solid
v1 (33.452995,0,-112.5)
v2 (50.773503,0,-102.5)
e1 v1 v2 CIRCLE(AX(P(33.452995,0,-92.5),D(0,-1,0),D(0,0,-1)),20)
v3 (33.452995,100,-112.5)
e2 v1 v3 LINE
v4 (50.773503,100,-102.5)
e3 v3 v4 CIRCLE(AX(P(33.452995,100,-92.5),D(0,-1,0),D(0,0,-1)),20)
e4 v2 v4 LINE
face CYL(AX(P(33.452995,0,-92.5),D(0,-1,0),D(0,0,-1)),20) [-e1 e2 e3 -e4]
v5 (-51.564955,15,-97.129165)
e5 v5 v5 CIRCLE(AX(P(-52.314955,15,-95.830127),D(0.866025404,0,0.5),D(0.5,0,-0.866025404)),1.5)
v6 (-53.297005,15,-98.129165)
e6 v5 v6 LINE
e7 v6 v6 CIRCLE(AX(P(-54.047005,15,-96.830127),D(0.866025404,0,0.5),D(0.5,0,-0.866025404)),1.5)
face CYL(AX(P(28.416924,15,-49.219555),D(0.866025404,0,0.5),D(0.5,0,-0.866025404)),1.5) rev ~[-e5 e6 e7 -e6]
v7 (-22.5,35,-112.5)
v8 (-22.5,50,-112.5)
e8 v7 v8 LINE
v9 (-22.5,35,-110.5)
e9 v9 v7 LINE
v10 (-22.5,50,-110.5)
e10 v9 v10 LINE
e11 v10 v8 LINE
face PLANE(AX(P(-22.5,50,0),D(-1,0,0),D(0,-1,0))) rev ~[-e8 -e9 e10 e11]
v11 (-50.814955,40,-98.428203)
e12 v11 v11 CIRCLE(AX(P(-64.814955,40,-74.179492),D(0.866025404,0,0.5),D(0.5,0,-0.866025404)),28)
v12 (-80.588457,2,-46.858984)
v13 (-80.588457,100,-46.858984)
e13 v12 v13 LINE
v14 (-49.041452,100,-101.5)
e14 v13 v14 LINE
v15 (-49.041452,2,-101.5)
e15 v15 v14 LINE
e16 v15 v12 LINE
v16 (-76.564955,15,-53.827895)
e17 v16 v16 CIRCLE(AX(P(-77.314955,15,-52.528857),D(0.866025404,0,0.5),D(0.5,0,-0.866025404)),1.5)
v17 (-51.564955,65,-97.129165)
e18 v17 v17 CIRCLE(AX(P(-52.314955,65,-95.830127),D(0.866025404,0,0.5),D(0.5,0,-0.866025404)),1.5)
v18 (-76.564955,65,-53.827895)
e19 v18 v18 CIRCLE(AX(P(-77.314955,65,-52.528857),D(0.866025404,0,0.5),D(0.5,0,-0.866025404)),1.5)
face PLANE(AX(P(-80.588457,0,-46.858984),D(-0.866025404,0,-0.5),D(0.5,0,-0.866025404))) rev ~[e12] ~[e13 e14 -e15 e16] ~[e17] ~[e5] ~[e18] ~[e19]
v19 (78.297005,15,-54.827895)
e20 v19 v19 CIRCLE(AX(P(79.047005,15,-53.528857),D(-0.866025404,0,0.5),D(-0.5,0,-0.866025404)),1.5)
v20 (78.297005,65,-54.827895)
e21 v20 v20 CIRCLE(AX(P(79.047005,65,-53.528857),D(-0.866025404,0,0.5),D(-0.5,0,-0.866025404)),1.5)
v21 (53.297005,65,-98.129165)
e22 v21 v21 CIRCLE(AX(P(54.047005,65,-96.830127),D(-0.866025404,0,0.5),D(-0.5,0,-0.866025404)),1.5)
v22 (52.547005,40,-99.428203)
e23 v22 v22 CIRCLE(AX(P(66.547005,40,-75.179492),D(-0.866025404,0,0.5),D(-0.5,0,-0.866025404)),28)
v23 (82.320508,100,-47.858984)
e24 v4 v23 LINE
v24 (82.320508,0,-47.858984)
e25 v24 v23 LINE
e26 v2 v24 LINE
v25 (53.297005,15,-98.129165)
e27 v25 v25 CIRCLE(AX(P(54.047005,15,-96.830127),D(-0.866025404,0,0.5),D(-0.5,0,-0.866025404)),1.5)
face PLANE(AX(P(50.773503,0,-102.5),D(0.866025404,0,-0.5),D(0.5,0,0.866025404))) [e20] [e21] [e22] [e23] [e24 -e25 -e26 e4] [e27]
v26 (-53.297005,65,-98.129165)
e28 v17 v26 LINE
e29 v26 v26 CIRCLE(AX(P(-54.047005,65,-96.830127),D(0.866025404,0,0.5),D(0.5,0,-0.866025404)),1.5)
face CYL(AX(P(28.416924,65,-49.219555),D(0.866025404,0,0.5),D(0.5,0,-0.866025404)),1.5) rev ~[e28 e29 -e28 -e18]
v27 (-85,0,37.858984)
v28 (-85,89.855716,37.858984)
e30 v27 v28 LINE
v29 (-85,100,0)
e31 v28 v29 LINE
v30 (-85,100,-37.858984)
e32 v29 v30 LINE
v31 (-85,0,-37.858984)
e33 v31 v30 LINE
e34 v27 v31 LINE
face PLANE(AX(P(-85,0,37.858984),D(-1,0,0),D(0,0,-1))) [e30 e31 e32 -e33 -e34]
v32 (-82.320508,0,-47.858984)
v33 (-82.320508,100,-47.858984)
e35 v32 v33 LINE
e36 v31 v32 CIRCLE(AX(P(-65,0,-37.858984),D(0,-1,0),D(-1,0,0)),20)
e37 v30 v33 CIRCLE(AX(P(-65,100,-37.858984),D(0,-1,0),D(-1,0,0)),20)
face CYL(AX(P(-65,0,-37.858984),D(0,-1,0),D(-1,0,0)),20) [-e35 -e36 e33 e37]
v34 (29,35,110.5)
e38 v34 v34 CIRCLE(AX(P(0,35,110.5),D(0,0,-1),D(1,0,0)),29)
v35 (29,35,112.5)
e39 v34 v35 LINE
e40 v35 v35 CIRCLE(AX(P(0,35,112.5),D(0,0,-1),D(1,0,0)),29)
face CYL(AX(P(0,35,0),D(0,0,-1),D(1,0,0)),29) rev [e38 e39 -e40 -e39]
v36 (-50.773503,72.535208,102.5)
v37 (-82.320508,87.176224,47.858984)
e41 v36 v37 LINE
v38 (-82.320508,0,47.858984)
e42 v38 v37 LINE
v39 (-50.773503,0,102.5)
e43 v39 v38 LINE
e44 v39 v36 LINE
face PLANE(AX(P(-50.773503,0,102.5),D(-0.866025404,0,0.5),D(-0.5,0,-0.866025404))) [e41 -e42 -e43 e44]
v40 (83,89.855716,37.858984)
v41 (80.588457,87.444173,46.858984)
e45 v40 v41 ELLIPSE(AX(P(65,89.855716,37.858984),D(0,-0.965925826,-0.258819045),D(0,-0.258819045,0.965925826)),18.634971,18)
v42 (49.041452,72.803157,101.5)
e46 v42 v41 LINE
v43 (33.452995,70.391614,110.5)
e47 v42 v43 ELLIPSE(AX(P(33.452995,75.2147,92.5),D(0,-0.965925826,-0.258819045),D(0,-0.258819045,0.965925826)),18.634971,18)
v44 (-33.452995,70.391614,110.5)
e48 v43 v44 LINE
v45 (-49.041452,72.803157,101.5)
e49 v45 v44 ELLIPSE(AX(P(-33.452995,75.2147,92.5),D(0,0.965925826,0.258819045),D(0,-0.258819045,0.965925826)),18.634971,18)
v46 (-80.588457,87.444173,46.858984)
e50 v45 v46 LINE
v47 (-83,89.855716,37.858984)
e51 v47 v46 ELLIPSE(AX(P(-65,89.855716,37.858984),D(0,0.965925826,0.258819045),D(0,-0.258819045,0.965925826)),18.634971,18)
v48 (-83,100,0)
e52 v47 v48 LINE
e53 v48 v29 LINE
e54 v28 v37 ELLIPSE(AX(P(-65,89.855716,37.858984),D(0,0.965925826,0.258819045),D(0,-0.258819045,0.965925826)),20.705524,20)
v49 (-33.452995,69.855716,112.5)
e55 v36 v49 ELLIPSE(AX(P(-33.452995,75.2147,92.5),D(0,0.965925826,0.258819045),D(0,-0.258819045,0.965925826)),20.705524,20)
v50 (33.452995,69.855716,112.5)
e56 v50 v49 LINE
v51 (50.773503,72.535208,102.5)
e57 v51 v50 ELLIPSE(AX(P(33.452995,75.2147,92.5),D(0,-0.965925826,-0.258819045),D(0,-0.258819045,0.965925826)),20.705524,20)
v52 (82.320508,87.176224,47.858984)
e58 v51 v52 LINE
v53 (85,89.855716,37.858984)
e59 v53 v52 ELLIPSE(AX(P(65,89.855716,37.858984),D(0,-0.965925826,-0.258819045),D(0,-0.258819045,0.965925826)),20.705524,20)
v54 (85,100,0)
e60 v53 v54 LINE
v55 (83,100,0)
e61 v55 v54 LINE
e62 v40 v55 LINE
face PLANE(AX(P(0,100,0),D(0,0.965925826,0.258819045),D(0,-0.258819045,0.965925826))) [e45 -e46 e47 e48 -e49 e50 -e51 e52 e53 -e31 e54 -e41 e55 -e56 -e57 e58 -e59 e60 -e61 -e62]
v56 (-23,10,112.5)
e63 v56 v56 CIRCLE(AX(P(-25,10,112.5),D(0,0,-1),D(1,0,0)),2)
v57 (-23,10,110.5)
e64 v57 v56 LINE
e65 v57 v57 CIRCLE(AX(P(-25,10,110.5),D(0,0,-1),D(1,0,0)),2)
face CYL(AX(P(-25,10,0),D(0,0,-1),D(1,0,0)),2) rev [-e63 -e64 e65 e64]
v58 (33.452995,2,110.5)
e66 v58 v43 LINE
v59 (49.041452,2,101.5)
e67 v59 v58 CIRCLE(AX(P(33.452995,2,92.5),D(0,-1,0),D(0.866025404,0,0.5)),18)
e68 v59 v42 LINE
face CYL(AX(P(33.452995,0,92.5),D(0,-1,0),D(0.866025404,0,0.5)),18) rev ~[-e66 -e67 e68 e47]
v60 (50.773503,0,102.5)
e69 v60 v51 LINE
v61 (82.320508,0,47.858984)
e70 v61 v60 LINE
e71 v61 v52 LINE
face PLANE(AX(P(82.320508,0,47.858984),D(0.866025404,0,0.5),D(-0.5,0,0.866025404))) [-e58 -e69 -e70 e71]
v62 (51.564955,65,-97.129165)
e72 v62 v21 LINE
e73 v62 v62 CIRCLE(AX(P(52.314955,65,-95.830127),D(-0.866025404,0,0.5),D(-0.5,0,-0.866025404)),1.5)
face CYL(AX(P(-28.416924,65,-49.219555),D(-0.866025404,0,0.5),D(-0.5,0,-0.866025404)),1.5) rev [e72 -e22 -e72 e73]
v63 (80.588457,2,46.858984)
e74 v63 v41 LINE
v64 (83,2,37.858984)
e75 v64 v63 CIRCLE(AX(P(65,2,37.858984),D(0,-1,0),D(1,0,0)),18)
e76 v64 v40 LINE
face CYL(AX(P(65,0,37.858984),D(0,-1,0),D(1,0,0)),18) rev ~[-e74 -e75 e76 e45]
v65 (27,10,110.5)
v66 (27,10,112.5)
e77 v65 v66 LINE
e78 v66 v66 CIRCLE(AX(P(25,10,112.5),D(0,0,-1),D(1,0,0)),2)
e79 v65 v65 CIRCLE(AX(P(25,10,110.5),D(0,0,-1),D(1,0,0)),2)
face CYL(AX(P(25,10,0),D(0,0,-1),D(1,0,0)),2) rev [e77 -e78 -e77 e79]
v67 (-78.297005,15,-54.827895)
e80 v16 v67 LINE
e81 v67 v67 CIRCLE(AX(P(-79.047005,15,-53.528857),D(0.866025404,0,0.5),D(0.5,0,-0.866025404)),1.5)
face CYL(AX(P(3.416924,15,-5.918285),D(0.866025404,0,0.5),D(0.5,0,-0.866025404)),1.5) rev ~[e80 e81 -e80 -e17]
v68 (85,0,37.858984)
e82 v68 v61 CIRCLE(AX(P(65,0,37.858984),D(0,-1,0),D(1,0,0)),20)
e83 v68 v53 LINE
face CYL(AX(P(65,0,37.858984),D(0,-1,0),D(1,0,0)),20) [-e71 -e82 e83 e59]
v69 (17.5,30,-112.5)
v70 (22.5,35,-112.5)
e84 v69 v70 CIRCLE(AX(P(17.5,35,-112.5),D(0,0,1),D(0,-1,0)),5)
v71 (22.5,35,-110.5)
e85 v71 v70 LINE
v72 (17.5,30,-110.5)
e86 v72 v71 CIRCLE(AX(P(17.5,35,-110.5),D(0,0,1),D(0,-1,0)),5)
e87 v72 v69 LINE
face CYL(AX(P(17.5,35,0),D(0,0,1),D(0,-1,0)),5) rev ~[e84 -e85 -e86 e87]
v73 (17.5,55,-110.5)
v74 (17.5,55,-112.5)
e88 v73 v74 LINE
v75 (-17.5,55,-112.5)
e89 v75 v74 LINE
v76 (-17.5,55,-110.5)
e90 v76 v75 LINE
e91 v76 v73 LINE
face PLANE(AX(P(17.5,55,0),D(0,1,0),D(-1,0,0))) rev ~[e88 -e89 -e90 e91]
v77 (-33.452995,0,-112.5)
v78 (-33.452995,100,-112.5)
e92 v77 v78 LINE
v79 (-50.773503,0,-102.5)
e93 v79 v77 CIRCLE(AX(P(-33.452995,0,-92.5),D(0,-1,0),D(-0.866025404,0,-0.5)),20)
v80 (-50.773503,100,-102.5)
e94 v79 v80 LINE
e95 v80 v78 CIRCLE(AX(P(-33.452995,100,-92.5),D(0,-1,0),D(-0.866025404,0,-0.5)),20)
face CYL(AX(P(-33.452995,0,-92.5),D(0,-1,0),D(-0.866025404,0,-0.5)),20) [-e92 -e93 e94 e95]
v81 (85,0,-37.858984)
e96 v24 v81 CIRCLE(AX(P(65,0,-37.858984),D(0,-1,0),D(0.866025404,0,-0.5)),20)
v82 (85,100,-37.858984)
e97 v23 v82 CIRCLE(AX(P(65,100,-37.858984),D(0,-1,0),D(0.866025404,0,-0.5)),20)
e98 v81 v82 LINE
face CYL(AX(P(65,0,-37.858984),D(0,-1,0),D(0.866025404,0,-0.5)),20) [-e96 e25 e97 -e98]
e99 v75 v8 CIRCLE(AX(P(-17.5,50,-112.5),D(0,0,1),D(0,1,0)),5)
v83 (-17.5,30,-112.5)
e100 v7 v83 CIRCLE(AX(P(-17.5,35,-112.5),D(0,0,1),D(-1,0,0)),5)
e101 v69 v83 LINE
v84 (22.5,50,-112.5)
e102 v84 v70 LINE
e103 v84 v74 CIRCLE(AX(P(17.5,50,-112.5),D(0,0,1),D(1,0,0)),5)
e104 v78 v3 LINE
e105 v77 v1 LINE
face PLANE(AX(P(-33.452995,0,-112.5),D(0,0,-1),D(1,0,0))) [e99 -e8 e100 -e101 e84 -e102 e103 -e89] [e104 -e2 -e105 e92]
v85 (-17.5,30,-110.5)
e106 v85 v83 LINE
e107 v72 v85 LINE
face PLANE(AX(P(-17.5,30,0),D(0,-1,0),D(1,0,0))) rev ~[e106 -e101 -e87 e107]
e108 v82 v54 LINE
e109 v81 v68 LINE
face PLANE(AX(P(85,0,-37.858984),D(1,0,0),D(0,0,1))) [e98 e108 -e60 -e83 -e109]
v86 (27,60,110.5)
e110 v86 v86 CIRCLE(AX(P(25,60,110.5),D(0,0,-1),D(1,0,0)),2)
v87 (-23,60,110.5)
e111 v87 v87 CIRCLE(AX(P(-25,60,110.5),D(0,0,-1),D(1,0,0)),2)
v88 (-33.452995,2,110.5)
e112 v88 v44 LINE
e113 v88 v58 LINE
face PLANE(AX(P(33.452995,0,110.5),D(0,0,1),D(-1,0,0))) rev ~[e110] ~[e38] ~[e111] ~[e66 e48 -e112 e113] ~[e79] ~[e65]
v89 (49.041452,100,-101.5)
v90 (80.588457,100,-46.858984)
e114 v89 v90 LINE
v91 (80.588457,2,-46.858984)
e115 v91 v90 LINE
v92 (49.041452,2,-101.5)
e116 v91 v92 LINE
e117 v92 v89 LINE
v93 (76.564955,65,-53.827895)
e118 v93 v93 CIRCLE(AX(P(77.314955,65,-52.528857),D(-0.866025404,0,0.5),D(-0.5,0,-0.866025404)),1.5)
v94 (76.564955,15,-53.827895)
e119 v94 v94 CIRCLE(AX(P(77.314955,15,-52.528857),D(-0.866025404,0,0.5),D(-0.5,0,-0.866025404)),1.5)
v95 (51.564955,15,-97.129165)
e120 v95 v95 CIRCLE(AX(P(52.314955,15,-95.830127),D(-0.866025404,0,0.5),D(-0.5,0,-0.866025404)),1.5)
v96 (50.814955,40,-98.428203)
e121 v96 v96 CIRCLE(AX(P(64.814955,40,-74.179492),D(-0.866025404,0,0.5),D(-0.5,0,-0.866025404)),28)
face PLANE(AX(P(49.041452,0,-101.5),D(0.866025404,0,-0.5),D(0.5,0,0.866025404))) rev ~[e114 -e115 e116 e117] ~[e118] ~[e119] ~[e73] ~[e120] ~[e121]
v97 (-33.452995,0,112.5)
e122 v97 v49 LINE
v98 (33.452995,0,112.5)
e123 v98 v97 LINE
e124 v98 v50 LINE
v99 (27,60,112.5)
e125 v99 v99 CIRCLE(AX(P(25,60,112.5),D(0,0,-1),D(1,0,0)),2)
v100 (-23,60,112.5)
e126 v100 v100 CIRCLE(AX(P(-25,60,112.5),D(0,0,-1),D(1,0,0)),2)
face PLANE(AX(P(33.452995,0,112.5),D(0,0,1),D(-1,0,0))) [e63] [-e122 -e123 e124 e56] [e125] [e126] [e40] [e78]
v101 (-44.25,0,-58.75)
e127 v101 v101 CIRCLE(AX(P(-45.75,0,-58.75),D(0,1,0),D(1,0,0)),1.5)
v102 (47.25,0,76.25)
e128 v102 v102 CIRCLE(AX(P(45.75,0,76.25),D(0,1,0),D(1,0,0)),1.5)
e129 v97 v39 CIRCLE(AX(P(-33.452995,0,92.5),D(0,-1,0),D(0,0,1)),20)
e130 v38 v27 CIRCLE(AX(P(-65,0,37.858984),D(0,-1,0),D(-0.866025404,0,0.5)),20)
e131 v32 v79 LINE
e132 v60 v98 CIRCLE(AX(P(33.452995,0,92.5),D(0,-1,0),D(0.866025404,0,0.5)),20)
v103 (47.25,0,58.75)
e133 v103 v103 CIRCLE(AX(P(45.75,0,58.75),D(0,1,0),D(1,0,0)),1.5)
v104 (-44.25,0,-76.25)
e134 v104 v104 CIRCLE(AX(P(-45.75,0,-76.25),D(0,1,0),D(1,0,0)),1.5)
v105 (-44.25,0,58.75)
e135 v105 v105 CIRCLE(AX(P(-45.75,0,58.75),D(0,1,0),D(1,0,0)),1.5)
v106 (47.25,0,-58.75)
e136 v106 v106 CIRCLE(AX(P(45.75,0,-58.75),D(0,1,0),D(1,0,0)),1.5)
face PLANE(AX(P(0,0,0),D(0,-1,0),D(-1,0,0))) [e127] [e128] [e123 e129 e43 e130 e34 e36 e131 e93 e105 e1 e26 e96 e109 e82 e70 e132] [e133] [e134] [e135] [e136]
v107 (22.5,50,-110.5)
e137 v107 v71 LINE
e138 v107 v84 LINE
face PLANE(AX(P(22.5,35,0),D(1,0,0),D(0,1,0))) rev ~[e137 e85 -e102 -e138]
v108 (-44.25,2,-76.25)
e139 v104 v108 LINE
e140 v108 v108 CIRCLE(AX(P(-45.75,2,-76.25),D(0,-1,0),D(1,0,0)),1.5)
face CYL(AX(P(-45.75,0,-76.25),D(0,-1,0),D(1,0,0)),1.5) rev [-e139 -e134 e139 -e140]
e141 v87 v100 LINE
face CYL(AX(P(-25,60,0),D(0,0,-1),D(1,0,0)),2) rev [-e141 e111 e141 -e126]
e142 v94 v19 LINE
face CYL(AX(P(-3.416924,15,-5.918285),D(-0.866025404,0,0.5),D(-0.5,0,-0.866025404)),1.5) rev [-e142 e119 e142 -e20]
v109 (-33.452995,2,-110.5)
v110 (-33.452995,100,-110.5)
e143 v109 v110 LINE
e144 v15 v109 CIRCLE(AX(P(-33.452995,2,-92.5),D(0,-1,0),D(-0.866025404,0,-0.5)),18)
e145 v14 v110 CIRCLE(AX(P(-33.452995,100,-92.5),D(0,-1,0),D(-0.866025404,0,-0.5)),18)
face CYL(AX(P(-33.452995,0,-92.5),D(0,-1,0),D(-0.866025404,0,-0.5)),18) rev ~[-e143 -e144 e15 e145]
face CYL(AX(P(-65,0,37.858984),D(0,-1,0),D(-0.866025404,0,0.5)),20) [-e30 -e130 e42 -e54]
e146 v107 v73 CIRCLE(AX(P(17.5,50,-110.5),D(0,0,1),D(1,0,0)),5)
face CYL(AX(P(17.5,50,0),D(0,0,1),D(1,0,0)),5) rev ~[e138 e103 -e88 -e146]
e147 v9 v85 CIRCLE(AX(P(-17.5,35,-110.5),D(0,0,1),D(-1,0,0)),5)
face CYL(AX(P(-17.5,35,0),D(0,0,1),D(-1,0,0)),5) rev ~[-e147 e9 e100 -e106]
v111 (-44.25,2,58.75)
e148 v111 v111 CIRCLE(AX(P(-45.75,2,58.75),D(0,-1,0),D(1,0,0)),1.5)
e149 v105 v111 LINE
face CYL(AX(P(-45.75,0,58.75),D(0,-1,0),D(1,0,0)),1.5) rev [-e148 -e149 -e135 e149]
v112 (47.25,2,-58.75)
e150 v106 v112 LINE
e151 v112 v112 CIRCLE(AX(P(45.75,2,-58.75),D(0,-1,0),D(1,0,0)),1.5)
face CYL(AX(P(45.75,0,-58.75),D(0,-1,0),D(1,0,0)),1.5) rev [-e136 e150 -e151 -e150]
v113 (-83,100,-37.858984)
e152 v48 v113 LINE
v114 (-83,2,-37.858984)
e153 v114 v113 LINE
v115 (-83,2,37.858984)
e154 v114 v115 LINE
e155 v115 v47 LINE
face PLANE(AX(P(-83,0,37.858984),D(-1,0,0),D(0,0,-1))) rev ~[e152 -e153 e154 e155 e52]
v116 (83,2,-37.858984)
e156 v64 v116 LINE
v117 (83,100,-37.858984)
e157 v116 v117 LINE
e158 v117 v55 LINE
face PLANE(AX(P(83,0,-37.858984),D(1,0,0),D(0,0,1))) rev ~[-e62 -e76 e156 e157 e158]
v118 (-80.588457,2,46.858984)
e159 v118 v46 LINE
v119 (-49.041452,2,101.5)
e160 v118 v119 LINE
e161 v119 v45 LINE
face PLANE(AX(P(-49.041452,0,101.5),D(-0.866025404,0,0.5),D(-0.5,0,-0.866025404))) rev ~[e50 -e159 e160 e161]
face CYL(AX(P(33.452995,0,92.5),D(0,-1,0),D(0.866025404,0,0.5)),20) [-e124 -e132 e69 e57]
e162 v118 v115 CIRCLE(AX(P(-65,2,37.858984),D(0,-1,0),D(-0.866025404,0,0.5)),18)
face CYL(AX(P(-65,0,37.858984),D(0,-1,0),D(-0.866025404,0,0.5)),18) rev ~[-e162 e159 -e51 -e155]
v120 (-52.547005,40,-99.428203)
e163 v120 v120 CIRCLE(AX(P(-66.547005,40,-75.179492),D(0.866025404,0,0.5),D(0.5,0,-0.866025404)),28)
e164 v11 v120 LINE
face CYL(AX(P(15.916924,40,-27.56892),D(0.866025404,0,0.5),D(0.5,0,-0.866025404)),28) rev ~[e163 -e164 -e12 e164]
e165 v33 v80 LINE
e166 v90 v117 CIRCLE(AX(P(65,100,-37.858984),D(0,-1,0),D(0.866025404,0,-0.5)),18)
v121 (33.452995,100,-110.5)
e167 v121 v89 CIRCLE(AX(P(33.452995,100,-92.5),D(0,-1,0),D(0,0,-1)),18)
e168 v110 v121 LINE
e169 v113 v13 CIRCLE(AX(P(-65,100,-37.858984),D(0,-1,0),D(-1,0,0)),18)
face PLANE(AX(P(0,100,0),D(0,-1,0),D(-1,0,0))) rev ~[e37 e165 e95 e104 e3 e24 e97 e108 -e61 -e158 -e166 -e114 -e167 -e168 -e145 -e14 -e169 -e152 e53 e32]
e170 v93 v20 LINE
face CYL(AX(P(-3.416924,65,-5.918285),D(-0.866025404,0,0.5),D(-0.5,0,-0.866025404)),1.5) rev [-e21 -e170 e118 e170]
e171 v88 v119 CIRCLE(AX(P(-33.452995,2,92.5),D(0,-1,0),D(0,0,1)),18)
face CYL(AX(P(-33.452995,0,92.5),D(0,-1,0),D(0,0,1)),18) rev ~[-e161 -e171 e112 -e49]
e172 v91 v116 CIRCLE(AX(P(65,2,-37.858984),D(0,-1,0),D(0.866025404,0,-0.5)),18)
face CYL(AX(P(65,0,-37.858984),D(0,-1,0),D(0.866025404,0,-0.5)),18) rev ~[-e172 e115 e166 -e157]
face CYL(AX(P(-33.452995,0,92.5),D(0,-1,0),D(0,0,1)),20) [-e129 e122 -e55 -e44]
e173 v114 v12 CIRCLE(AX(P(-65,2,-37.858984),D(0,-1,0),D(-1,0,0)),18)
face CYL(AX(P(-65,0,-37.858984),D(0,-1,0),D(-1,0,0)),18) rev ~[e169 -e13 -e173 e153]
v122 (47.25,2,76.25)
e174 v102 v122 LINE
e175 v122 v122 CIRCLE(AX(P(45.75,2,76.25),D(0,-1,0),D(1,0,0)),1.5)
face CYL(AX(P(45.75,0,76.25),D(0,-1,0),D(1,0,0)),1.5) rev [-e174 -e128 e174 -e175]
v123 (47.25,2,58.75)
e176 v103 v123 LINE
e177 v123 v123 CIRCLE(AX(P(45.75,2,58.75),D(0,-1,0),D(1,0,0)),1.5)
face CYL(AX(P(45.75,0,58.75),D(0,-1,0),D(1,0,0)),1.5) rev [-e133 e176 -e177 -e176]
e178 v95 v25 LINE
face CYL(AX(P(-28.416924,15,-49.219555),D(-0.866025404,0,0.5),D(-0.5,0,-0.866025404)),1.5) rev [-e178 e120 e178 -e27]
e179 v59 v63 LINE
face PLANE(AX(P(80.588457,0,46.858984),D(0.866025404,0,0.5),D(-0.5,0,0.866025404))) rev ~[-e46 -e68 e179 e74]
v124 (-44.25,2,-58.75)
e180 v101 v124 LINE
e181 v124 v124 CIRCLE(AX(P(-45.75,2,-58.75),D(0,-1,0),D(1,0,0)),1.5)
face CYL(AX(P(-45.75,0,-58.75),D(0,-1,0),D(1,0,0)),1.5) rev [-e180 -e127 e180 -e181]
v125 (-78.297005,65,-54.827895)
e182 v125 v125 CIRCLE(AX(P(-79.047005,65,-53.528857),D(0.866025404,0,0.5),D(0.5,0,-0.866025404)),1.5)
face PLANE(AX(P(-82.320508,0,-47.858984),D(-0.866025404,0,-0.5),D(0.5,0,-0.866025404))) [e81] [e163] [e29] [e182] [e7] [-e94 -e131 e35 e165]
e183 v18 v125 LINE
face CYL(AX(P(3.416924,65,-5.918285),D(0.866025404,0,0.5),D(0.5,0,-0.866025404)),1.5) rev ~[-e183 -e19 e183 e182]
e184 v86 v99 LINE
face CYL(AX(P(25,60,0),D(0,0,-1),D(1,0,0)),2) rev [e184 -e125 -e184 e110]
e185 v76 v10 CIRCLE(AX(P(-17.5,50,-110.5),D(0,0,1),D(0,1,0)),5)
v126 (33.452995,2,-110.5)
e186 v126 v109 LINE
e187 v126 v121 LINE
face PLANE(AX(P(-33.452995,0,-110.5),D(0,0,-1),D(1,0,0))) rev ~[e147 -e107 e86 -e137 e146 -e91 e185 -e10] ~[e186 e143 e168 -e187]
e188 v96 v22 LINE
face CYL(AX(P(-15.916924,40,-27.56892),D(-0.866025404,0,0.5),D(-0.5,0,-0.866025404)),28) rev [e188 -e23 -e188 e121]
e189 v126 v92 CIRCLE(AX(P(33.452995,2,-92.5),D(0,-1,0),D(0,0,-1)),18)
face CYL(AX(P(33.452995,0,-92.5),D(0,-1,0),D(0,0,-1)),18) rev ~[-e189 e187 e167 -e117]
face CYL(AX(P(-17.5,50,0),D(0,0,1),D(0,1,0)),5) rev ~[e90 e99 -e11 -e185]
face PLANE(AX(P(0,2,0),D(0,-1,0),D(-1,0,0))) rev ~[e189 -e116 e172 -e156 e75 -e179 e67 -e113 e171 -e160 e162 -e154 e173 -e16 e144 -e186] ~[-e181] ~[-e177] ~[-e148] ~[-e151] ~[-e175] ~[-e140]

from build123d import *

# Parameters (mm, degrees)
SALIENTE_EXTRUIR1_DEPTH    = 100
VACIADO2_T                 = -2
CROQUIS2_R                 = 1.5
CORTAR_EXTRUIR1_DEPTH      = 101
CORTAR_EXTRUIR1_DEPTH_BACK = 1
CROQUIS8_R                 = 28
CROQUIS8_R_2               = 1.5
CORTAR_EXTRUIR6_DEPTH      = 130.862159322
CORTAR_EXTRUIR7_DEPTH      = 113.5
CORTAR_EXTRUIR8_DEPTH      = 86
CORTAR_EXTRUIR8_DEPTH_BACK = 86
CROQUIS11_R                = 29
CROQUIS11_R_2              = 2
CORTAR_EXTRUIR9_DEPTH      = 113.5


with BuildPart() as part:
    # Croquis1 → Saliente-Extruir1 (new body)
    with BuildSketch(Plane(origin=(0, 0, 0), x_dir=(1, 0, 0), z_dir=(0, 1, 0))):
        with BuildLine():
            Line((-82.320508076, 47.858983849), (-50.773502692, 102.5))
            ThreePointArc((-50.773502692, 102.5), (-43.452994616, 109.820508076), (-33.452994616, 112.5))
            Line((-33.452994616, 112.5), (33.452994616, 112.5))
            ThreePointArc((33.452994616, 112.5), (43.452994616, 109.820508076), (50.773502692, 102.5))
            Line((50.773502692, 102.5), (82.320508076, 47.858983849))
            ThreePointArc((82.320508076, 47.858983849), (84.318516526, 43.035364751), (85, 37.858983849))
            Line((85, 37.858983849), (85, -37.858983849))
            ThreePointArc((85, -37.858983849), (84.318516526, -43.035364751), (82.320508076, -47.858983849))
            Line((82.320508076, -47.858983849), (50.773502692, -102.5))
            ThreePointArc((50.773502692, -102.5), (43.452994616, -109.820508076), (33.452994616, -112.5))
            Line((33.452994616, -112.5), (-33.452994616, -112.5))
            ThreePointArc((-33.452994616, -112.5), (-43.452994616, -109.820508076), (-50.773502692, -102.5))
            Line((-50.773502692, -102.5), (-82.320508076, -47.858983849))
            ThreePointArc((-82.320508076, -47.858983849), (-84.318516526, -43.035364751), (-85, -37.858983849))
            Line((-85, -37.858983849), (-85, 37.858983849))
            ThreePointArc((-85, 37.858983849), (-84.318516526, 43.035364751), (-82.320508076, 47.858983849))
        make_face()
    extrude(amount=SALIENTE_EXTRUIR1_DEPTH)

    # Vaciado2
    vaciado2_openings = [part.faces().sort_by_distance(p)[0] for p in [
        (0, 100, 0),
    ]]
    offset(amount=VACIADO2_T, openings=vaciado2_openings, kind=Kind.INTERSECTION)

    # Croquis2 → Cortar-Extruir1 (cut, two sides)
    with BuildSketch(Plane(origin=(0, 0, 0), x_dir=(1, 0, 0), z_dir=(0, 1, 0))) as cortar_extruir1_sk:
        with Locations((-45.75, 76.25)):
            Circle(CROQUIS2_R)
        with Locations((-45.75, 58.75)):
            Circle(CROQUIS2_R)
        with Locations((45.75, 58.75)):
            Circle(CROQUIS2_R)
        with Locations((-45.75, -58.75)):
            Circle(CROQUIS2_R)
        with Locations((45.75, -58.75)):
            Circle(CROQUIS2_R)
        with Locations((45.75, -76.25)):
            Circle(CROQUIS2_R)
    extrude(amount=CORTAR_EXTRUIR1_DEPTH, mode=Mode.SUBTRACT)
    extrude(cortar_extruir1_sk.sketch, amount=-CORTAR_EXTRUIR1_DEPTH_BACK, mode=Mode.SUBTRACT)

    # Croquis8 → Cortar-Extruir6 (cut, through all)
    with BuildSketch(Plane(origin=(0, 0, 0), x_dir=(-0.5, 0, -0.866025404), z_dir=(0.866025404, 0, -0.5))):
        with Locations((31.833847158, 40)):
            Circle(CROQUIS8_R)
        with Locations((6.833847158, 65)):
            Circle(CROQUIS8_R_2)
        with Locations((56.833847158, 65)):
            Circle(CROQUIS8_R_2)
        with Locations((6.833847158, 15)):
            Circle(CROQUIS8_R_2)
        with Locations((56.833847158, 15)):
            Circle(CROQUIS8_R_2)
    cortar_extruir6 = extrude(amount=CORTAR_EXTRUIR6_DEPTH, mode=Mode.SUBTRACT)

    # Simetría1: Cortar-Extruir6 across plane
    add(cortar_extruir6.mirror(Plane(origin=(0, 0, 0), x_dir=(0, 0, 1), z_dir=(1, 0, 0))), mode=Mode.SUBTRACT)

    # Croquis9 → Cortar-Extruir7 (cut, through all)
    with BuildSketch(Plane.XY):
        with BuildLine():
            Line((17.5, 55), (-17.5, 55))
            ThreePointArc((-17.5, 55), (-21.035533906, 53.535533906), (-22.5, 50))
            Line((-22.5, 50), (-22.5, 35))
            ThreePointArc((-22.5, 35), (-21.035533906, 31.464466094), (-17.5, 30))
            Line((-17.5, 30), (17.5, 30))
            ThreePointArc((17.5, 30), (21.035533906, 31.464466094), (22.5, 35))
            Line((22.5, 35), (22.5, 50))
            ThreePointArc((22.5, 50), (21.035533906, 53.535533906), (17.5, 55))
        make_face()
    extrude(amount=-CORTAR_EXTRUIR7_DEPTH, mode=Mode.SUBTRACT)

    # Croquis10 → Cortar-Extruir8 (cut, two sides)
    with BuildSketch(Plane(origin=(0, 0, 0), x_dir=(0, 0, -1), z_dir=(1, 0, 0))) as cortar_extruir8_sk:
        Polygon((0, 100), (-148.82762011, 60.12175938), (-148.82762011, 114.287226581), (0, 114.287226581), align=None)
    extrude(amount=CORTAR_EXTRUIR8_DEPTH, mode=Mode.SUBTRACT)
    extrude(cortar_extruir8_sk.sketch, amount=-CORTAR_EXTRUIR8_DEPTH_BACK, mode=Mode.SUBTRACT)

    # Croquis11 → Cortar-Extruir9 (cut, through all)
    with BuildSketch(Plane.XY):
        with Locations((0, 35)):
            Circle(CROQUIS11_R)
        with Locations((25, 10)):
            Circle(CROQUIS11_R_2)
        with Locations((-25, 10)):
            Circle(CROQUIS11_R_2)
        with Locations((-25, 60)):
            Circle(CROQUIS11_R_2)
        with Locations((25, 60)):
            Circle(CROQUIS11_R_2)
    extrude(amount=CORTAR_EXTRUIR9_DEPTH, mode=Mode.SUBTRACT)


solid = part.part
